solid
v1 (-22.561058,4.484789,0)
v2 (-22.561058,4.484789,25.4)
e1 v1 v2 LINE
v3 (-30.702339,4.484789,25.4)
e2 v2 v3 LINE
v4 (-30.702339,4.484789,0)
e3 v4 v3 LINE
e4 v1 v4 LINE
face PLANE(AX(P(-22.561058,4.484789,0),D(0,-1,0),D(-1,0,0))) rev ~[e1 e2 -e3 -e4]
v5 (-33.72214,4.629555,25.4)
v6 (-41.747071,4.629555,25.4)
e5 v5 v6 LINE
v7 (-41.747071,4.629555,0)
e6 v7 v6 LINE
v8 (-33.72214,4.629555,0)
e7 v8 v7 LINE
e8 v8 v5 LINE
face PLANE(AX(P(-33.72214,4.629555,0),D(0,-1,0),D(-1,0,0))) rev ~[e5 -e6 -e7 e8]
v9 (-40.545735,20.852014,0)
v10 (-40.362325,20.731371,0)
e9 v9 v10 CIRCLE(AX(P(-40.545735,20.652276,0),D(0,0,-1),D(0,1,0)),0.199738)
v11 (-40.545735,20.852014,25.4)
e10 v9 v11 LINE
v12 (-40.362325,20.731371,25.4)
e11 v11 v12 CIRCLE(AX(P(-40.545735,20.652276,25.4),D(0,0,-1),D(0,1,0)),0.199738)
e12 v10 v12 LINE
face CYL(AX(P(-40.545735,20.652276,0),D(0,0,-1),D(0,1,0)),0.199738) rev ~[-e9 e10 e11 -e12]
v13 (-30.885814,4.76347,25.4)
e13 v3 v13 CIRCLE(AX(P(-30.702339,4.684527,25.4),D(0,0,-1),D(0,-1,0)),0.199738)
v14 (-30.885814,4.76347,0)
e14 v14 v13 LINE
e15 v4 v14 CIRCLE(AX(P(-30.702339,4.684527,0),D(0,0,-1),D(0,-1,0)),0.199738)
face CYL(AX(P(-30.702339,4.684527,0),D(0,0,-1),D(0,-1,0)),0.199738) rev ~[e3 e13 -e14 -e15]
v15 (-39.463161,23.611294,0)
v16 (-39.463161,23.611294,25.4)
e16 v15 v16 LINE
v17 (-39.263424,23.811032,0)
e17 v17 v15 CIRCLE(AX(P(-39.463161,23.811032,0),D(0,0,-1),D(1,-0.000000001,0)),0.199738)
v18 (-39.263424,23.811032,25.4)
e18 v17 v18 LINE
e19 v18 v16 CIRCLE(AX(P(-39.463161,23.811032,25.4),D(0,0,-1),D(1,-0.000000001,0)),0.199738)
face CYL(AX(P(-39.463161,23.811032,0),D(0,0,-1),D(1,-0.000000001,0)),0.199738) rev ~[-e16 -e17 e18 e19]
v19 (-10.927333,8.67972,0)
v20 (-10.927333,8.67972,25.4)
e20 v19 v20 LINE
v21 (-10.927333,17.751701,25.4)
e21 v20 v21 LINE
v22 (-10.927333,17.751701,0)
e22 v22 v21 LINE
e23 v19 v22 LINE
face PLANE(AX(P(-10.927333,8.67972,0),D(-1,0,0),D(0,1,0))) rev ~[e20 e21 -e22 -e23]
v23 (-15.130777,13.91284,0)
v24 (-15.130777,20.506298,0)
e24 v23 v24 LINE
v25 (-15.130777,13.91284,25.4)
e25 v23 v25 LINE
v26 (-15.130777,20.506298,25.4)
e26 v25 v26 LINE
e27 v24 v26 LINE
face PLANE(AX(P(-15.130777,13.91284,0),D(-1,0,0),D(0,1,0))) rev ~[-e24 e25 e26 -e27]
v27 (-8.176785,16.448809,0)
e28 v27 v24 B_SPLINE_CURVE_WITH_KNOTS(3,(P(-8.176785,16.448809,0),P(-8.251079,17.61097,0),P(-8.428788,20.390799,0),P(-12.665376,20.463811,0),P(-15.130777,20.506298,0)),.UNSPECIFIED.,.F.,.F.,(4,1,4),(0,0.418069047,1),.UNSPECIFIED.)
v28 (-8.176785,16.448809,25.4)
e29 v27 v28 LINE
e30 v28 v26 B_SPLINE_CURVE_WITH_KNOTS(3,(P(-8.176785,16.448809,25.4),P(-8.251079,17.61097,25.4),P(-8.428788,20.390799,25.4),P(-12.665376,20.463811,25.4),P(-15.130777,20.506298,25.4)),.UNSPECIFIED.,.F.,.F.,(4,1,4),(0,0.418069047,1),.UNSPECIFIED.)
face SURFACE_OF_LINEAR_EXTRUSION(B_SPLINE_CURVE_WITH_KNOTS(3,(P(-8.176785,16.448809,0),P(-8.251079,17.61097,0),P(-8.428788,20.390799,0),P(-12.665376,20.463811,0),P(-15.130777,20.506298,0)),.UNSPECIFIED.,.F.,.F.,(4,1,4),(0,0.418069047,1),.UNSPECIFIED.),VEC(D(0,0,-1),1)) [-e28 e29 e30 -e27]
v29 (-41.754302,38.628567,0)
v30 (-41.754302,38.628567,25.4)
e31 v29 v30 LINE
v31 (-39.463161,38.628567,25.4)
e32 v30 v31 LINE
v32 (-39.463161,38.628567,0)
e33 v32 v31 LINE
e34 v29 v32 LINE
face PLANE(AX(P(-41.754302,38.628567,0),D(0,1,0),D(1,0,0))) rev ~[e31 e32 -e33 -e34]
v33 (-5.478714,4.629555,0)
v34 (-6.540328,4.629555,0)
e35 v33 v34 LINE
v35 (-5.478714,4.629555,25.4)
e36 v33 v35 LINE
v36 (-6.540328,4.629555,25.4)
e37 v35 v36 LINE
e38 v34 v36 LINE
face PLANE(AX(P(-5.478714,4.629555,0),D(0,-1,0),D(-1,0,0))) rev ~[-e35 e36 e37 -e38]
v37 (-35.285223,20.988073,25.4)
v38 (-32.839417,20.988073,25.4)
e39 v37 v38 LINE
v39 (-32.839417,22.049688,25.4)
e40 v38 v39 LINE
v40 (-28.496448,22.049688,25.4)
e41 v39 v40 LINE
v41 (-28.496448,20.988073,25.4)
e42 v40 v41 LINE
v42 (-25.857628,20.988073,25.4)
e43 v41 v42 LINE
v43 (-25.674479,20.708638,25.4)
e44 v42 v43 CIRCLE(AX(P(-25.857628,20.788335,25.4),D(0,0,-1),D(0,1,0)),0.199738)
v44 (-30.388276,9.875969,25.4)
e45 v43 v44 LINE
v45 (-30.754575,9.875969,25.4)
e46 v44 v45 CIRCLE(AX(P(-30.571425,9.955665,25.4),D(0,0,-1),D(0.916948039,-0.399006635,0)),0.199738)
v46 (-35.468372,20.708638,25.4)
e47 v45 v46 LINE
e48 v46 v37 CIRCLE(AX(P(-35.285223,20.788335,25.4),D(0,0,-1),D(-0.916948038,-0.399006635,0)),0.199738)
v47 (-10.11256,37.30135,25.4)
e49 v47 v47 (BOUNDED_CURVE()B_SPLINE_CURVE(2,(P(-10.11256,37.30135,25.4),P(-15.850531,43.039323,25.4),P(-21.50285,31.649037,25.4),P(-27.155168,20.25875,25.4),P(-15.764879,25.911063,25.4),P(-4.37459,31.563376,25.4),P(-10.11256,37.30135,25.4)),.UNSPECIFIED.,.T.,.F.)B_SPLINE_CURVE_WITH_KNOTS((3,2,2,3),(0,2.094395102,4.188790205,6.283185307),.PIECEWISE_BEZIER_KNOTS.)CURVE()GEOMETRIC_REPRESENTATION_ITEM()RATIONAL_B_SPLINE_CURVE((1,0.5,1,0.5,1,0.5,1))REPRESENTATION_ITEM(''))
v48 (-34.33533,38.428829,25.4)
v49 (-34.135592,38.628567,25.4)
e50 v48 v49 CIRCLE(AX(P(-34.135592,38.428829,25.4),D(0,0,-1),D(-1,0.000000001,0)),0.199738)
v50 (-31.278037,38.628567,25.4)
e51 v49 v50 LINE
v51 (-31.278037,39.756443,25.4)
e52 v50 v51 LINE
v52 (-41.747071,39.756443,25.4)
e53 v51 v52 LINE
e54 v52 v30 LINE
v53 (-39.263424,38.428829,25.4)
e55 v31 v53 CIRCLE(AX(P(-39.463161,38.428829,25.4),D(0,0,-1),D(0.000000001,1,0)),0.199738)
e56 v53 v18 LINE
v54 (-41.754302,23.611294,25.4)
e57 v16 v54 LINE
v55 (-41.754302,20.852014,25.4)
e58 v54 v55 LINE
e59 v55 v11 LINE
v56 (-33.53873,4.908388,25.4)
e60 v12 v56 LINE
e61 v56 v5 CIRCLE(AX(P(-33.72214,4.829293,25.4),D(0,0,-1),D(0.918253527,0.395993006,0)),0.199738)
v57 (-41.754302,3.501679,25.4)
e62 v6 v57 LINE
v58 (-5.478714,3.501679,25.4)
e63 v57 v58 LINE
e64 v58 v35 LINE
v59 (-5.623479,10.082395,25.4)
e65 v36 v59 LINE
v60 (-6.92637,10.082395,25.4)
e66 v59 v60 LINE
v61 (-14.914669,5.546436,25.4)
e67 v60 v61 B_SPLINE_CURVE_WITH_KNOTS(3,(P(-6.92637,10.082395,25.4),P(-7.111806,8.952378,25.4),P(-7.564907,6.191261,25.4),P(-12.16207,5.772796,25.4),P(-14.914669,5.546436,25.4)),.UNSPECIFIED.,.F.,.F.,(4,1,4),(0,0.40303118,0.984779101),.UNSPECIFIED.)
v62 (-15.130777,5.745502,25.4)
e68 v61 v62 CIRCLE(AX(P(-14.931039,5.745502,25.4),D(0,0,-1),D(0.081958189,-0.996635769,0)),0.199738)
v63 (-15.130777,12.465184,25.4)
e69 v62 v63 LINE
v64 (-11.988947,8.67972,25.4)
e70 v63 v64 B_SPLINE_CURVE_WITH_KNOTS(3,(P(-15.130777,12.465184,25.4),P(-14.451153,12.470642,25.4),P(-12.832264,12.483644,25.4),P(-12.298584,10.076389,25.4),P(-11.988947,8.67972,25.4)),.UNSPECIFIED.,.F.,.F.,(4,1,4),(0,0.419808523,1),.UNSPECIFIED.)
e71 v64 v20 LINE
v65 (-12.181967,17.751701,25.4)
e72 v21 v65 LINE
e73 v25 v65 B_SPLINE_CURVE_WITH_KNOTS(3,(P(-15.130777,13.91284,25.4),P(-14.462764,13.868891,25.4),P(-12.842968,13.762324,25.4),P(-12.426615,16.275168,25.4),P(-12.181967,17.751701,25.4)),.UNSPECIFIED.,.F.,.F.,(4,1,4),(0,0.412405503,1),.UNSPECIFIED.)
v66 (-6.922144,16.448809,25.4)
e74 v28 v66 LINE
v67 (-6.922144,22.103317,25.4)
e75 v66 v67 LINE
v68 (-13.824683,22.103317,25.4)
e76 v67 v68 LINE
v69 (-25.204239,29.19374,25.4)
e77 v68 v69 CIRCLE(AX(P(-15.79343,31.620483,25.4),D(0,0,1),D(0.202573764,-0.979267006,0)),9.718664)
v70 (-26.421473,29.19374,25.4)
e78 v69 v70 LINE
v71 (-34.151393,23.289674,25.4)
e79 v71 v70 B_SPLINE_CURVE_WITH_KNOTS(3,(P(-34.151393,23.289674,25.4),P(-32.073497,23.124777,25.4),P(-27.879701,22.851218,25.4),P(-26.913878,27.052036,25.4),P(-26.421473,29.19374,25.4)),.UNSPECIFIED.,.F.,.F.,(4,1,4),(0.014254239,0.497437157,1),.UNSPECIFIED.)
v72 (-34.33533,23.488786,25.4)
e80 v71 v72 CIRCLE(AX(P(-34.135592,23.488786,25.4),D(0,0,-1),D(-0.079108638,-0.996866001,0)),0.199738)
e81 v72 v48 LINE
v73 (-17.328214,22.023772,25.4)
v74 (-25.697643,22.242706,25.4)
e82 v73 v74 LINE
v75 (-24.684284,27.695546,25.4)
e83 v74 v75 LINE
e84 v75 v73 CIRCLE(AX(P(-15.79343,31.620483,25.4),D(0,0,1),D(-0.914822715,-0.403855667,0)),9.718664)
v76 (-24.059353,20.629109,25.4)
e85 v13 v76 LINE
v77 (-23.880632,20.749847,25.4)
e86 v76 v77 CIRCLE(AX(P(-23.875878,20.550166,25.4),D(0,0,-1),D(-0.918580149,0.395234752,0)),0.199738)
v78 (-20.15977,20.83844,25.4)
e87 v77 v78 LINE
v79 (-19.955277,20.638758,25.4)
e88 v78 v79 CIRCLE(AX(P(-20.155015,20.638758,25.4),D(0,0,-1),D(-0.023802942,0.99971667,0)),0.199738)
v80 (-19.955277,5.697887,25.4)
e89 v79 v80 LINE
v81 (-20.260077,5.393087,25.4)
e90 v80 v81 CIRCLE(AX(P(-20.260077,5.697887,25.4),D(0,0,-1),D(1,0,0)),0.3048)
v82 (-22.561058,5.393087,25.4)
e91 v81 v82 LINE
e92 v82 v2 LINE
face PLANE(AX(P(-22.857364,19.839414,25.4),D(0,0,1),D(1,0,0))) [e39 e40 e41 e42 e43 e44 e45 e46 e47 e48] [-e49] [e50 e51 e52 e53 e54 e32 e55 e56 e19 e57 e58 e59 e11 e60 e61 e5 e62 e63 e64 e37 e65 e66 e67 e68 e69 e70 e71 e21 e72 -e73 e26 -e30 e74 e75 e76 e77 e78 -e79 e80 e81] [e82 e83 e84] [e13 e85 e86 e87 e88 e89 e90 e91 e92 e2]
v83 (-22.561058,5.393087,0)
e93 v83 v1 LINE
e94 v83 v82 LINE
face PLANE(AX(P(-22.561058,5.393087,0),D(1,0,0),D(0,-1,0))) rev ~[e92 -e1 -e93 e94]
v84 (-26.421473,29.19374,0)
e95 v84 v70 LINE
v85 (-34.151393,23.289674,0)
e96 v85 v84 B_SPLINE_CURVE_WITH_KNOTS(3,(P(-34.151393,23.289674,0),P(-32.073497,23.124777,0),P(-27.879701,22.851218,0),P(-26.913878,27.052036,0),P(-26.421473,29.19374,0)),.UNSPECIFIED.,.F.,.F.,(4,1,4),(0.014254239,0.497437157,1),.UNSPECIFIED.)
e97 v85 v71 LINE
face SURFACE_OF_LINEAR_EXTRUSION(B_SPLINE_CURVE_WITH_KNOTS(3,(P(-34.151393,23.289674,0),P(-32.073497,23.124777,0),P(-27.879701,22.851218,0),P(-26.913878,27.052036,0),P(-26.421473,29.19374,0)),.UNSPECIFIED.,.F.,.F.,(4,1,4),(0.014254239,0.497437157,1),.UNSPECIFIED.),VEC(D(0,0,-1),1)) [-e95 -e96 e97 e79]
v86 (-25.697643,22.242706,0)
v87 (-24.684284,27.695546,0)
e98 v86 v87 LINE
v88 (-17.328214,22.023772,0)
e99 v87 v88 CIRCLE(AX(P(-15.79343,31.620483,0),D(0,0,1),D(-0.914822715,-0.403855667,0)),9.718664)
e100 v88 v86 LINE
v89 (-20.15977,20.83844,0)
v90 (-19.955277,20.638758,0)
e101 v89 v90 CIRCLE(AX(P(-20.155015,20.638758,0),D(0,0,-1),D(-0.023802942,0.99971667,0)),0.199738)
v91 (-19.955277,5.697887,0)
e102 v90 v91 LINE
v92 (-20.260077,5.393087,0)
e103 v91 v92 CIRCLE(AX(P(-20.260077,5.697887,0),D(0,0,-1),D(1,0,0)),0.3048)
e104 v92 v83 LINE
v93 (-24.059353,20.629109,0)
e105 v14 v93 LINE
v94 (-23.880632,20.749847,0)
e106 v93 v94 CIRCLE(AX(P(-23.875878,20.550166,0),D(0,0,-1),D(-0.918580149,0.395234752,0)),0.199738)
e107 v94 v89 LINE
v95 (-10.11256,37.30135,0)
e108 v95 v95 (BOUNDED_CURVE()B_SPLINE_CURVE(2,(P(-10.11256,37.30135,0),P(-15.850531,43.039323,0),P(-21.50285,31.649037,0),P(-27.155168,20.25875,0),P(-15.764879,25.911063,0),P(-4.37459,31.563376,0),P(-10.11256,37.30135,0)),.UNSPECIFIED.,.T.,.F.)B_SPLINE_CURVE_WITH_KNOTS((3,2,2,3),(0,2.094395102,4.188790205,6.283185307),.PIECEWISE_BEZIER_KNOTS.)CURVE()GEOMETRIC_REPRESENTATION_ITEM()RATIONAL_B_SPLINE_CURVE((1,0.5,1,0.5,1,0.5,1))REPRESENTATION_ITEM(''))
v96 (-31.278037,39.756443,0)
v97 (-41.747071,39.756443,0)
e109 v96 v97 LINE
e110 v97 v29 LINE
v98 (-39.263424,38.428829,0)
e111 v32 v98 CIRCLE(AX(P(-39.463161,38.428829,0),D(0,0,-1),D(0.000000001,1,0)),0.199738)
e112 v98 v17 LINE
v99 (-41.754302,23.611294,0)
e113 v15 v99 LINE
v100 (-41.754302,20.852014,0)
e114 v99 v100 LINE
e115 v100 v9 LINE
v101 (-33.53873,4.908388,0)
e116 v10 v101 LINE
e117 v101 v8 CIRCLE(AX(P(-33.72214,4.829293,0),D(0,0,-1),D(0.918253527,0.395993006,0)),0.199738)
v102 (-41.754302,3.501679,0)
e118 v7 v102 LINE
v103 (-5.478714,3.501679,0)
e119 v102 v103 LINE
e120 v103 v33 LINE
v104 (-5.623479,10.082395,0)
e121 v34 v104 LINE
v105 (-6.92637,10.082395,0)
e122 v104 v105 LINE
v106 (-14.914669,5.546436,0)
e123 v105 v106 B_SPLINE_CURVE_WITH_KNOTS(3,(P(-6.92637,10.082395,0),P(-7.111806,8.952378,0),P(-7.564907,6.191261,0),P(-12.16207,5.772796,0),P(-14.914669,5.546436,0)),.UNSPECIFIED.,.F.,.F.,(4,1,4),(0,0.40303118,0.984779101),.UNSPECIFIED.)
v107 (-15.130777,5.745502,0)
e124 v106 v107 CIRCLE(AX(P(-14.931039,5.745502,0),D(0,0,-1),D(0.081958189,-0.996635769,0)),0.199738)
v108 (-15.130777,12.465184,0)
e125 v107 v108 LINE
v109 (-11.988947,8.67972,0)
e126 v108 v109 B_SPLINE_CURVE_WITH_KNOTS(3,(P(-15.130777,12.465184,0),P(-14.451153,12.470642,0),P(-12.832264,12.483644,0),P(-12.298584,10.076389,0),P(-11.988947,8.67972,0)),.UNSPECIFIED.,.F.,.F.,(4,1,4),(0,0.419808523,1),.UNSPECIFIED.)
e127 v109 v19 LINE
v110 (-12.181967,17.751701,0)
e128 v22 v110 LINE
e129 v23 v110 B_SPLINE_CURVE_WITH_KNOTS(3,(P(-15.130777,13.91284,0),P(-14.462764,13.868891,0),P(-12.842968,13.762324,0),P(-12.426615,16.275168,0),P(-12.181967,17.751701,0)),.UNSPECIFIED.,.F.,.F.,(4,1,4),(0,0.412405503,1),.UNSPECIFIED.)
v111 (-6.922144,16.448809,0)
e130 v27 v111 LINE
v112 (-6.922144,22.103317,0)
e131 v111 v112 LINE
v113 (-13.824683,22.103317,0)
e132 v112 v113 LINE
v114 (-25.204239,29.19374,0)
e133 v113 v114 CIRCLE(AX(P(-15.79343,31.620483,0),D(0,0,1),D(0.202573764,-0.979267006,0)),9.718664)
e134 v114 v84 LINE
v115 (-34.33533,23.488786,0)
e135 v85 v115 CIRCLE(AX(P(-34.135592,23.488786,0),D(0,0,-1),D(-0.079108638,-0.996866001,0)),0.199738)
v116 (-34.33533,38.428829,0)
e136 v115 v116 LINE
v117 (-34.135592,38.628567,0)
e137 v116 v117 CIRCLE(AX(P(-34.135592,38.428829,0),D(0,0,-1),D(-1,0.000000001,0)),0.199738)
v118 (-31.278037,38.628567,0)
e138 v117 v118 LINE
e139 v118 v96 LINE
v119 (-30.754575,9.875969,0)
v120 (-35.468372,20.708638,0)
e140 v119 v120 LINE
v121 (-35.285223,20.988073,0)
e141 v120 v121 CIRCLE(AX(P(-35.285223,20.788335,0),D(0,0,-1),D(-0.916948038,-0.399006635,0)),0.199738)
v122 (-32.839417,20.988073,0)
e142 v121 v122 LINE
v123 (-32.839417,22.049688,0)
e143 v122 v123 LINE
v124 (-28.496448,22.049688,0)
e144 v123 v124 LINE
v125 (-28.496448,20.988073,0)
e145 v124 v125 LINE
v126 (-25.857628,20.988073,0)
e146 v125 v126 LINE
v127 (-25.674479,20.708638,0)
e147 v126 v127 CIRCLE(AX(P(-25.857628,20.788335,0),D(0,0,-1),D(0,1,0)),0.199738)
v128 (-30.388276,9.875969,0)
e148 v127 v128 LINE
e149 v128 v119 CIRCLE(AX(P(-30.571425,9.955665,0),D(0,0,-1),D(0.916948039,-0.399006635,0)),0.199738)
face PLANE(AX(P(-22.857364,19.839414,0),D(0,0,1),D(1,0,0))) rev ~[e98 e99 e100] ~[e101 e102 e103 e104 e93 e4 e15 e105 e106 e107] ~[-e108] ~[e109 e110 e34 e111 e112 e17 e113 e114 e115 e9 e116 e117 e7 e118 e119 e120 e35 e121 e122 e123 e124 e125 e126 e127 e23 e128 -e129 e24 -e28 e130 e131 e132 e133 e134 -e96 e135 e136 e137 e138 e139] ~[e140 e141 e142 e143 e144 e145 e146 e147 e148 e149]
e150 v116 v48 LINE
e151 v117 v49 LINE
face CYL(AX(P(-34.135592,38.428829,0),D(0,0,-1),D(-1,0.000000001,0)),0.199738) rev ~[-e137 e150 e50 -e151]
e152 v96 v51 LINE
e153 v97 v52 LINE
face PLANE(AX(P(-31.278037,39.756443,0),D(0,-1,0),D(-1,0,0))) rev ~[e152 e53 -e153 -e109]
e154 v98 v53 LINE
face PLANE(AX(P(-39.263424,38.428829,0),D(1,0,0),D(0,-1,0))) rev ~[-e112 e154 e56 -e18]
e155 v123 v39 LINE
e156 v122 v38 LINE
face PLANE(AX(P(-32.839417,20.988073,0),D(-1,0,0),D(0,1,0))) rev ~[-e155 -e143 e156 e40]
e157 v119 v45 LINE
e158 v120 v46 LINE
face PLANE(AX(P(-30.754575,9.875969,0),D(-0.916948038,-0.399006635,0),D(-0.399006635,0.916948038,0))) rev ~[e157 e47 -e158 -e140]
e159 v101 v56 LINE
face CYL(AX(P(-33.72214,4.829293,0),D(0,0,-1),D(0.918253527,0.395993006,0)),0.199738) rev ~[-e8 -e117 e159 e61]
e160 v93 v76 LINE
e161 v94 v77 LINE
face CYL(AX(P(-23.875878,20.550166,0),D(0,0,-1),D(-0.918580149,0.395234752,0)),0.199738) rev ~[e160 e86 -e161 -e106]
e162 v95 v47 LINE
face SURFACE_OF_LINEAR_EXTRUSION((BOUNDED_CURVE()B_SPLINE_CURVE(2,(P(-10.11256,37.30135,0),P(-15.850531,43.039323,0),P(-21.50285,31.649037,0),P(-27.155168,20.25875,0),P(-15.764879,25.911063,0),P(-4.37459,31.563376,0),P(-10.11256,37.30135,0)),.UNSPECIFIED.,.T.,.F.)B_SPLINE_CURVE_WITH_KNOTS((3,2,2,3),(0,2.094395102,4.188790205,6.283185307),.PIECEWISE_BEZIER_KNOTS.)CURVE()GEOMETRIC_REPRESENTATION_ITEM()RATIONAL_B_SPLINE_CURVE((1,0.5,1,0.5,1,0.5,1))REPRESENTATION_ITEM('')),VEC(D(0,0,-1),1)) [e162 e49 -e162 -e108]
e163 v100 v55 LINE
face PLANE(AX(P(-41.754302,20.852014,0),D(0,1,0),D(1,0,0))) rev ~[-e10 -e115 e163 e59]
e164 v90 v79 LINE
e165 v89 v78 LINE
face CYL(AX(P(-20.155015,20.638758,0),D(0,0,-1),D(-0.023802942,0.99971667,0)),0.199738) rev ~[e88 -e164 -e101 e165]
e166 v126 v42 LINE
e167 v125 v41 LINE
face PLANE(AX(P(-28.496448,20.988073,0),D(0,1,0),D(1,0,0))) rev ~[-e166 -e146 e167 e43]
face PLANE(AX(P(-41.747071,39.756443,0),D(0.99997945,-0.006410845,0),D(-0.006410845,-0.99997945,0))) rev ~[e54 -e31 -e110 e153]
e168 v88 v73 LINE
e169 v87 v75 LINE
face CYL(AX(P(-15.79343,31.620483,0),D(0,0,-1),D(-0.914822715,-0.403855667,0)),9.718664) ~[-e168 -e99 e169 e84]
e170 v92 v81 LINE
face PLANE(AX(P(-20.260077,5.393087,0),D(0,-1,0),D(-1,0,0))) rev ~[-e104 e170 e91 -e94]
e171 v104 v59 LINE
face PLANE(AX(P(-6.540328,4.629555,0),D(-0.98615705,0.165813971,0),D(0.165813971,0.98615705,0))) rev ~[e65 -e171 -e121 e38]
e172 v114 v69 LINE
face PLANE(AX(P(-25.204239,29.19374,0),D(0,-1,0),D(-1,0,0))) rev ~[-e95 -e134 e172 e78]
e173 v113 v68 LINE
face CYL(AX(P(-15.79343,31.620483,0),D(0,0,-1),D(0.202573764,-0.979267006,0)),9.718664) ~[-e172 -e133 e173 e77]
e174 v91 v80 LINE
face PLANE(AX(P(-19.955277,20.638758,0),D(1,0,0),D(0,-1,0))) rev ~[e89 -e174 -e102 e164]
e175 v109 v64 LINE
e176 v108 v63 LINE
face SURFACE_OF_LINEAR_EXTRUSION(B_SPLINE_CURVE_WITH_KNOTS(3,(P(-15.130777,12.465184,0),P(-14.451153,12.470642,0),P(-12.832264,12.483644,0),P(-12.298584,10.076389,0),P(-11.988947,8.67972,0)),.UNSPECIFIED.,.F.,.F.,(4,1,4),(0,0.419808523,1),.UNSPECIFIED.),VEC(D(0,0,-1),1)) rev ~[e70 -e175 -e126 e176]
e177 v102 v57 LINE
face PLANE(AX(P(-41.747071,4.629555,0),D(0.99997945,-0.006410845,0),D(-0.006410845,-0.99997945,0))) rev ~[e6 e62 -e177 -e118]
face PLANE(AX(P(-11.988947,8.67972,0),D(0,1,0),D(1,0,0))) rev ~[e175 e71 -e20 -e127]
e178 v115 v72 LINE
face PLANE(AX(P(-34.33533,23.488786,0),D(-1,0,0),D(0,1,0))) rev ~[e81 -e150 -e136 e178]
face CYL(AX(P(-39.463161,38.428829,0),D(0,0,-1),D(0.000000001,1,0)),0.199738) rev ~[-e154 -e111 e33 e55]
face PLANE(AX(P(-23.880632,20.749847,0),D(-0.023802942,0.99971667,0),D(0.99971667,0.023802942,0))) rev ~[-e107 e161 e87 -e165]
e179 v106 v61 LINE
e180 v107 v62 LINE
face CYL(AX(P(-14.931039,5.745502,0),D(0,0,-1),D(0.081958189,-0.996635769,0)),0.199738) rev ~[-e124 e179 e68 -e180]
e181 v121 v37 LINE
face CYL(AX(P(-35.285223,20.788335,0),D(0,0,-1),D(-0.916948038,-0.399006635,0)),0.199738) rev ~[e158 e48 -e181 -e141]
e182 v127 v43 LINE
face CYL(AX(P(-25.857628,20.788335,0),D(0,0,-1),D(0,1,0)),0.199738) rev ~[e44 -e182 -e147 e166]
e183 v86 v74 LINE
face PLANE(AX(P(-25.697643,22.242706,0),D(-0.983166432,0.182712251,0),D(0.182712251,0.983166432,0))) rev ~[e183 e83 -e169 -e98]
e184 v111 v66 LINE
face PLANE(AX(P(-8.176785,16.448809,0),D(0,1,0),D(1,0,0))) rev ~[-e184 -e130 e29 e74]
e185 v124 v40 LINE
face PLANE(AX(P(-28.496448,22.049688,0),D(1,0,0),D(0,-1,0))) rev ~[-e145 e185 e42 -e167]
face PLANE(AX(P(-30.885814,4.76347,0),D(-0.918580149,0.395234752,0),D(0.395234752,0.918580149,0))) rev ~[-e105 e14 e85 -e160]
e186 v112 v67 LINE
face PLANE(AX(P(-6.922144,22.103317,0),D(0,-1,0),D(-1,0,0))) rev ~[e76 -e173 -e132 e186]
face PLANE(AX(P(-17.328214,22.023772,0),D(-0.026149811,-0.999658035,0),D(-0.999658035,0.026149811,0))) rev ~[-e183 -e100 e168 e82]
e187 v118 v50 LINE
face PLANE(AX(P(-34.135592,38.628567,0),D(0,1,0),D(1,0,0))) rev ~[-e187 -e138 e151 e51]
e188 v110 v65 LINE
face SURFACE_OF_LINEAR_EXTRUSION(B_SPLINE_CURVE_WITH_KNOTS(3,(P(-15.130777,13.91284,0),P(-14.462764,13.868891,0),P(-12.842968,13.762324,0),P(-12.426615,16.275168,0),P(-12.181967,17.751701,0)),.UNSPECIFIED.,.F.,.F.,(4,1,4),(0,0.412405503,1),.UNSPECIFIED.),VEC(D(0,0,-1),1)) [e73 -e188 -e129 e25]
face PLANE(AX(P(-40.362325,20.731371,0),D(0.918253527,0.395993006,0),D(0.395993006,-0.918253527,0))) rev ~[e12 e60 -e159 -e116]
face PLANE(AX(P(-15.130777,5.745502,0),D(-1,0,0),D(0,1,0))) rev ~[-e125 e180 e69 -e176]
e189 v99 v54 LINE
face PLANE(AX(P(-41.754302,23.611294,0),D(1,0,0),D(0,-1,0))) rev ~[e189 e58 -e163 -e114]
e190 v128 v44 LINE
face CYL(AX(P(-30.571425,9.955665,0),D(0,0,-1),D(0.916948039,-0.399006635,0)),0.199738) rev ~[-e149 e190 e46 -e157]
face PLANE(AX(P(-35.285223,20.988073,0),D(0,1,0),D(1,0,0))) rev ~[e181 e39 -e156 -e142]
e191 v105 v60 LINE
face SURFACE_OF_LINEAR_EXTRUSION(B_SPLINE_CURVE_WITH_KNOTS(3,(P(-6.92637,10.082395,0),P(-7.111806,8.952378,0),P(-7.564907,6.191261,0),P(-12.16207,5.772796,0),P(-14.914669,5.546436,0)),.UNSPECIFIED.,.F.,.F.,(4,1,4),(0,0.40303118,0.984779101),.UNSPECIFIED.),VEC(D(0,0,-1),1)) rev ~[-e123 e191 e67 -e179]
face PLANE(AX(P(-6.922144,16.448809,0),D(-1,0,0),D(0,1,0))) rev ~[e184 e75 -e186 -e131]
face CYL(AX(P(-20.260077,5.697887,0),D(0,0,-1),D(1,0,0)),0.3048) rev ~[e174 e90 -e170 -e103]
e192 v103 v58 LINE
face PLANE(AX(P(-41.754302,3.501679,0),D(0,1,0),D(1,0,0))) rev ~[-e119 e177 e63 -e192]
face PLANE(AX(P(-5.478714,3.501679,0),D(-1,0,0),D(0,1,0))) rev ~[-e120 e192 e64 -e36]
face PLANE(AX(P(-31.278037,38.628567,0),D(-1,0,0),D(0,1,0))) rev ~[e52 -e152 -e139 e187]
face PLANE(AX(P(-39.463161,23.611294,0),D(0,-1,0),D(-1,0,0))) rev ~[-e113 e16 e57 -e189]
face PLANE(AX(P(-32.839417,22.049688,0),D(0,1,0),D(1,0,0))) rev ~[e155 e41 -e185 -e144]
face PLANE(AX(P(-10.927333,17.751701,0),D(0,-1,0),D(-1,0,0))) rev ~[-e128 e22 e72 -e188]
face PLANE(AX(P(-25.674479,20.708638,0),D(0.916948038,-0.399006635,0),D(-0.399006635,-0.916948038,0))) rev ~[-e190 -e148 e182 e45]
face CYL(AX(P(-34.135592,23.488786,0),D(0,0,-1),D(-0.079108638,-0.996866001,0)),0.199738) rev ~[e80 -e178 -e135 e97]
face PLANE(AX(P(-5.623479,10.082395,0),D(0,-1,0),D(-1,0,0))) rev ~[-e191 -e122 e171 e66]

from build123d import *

# Parameters (mm, degrees)
F1_DEPTH = 25.4


with BuildPart() as f1:
    # F0 (on Top) → F1 (new body)
    with BuildSketch(Plane.XY):
        with BuildLine():
            Line((-6.922144349, 22.1033166371), (-13.8246832876, 22.1033166371))
            ThreePointArc((-13.8246832876, 22.1033166371), (-10.6539158919, 39.8689876269), (-25.2042392324, 29.1937395135))
            Line((-25.2042392324, 29.1937395135), (-26.4214727575, 29.1937395135))
            add(Edge.make_bspline(
                [(-34.1513931679, 23.289673573), (-32.0734965127, 23.1247772138), (-27.8797011755, 22.8512177675), (-26.9138783096, 27.0520360031), (-26.4214727575, 29.1937395135)],
                knots=[0.0142542389, 0.0142542389, 0.0142542389, 0.0142542389, 0.4974371567, 1, 1, 1, 1], degree=3))
            ThreePointArc((-34.1513931679, 23.289673573), (-34.2823084118, 23.3532510684), (-34.3353301287, 23.488785553))
            Line((-34.3353301287, 23.488785553), (-34.3353301287, 38.4288290516))
            ThreePointArc((-34.3353301287, 38.4288290516), (-34.2768282351, 38.5700651165), (-34.1355921701, 38.6285670102))
            Line((-34.1355921701, 38.6285670102), (-31.2780365348, 38.6285670102))
            Line((-31.2780365348, 38.6285670102), (-31.2780365348, 39.7564433515))
            Line((-31.2780365348, 39.7564433515), (-41.7470708489, 39.7564433515))
            Line((-41.7470708489, 39.7564433515), (-41.7543016374, 38.6285670102))
            Line((-41.7543016374, 38.6285670102), (-39.4631614909, 38.6285670102))
            ThreePointArc((-39.4631614909, 38.6285670102), (-39.3219254259, 38.5700651165), (-39.2634235322, 38.4288290516))
            Line((-39.2634235322, 38.4288290516), (-39.2634235322, 23.8110320643))
            ThreePointArc((-39.2634235322, 23.8110320643), (-39.3219254259, 23.6697959993), (-39.4631614909, 23.6112941056))
            Line((-39.4631614909, 23.6112941056), (-41.7543016374, 23.6112941056))
            Line((-41.7543016374, 23.6112941056), (-41.7543016374, 20.8520144224))
            Line((-41.7543016374, 20.8520144224), (-40.5457352105, 20.8520144224))
            ThreePointArc((-40.5457352105, 20.8520144224), (-40.4359695253, 20.8191499082), (-40.3623251256, 20.7313712984))
            Line((-40.3623251256, 20.7313712984), (-33.538729512, 4.9083879515))
            ThreePointArc((-33.538729512, 4.9083879515), (-33.5552661525, 4.7195274317), (-33.7221395969, 4.6295551583))
            Line((-33.7221395969, 4.6295551583), (-41.7470708489, 4.6295551583))
            Line((-41.7470708489, 4.6295551583), (-41.7543016374, 3.501678817))
            Line((-41.7543016374, 3.501678817), (-5.4787136614, 3.501678817))
            Line((-5.4787136614, 3.501678817), (-5.4787136614, 4.6295551583))
            Line((-5.4787136614, 4.6295551583), (-6.5403282642, 4.6295551583))
            Line((-6.5403282642, 4.6295551583), (-5.6234793738, 10.082394816))
            Line((-5.6234793738, 10.082394816), (-6.9263698533, 10.082394816))
            add(Edge.make_bspline(
                [(-6.9263698533, 10.082394816), (-7.1118061723, 8.9523784677), (-7.5649071247, 6.191260869), (-12.1620701189, 5.7727957343), (-14.914668792, 5.5464362064)],
                knots=[0, 0, 0, 0, 0.4030311798, 0.9847791008, 0.9847791008, 0.9847791008, 0.9847791008], degree=3))
            ThreePointArc((-14.914668792, 5.5464362064), (-15.0663635807, 5.598592373), (-15.130776912, 5.7455022003))
            Line((-15.130776912, 5.7455022003), (-15.130776912, 12.4651836231))
            add(Edge.make_bspline(
                [(-15.130776912, 12.4651836231), (-14.4511532344, 12.4706418779), (-12.8322635737, 12.48364365), (-12.2985836887, 10.0763885396), (-11.988947168, 8.6797196418)],
                knots=[0, 0, 0, 0, 0.4198085231, 1, 1, 1, 1], degree=3))
            Line((-11.988947168, 8.6797196418), (-10.9273325652, 8.6797196418))
            Line((-10.9273325652, 8.6797196418), (-10.9273325652, 17.7517011762))
            Line((-10.9273325652, 17.7517011762), (-12.1819674969, 17.7517011762))
            add(Edge.make_bspline(
                [(-15.130776912, 13.912839815), (-14.4627640937, 13.8688908923), (-12.8429680106, 13.7623236366), (-12.426614518, 16.2751677835), (-12.1819674969, 17.7517011762)],
                knots=[0, 0, 0, 0, 0.4124055029, 1, 1, 1, 1], degree=3))
            Line((-15.130776912, 13.912839815), (-15.130776912, 20.5062981695))
            add(Edge.make_bspline(
                [(-8.1767849624, 16.448808834), (-8.2510794881, 17.6109695891), (-8.4287882332, 20.390799294), (-12.6653755921, 20.4638106194), (-15.130776912, 20.5062981695)],
                knots=[0, 0, 0, 0, 0.4180690469, 1, 1, 1, 1], degree=3))
            Line((-8.1767849624, 16.448808834), (-6.922144349, 16.448808834))
            Line((-6.922144349, 16.448808834), (-6.922144349, 22.1033166371))
        make_face()
        with BuildLine():
            Line((-30.8858141466, 4.7634703214), (-24.0593529441, 20.6291089683))
            ThreePointArc((-24.0593529441, 20.6291089683), (-23.9876900428, 20.7156746015), (-23.8806319712, 20.7498469527))
            Line((-23.8806319712, 20.7498469527), (-20.1597697526, 20.8384395209))
            ThreePointArc((-20.1597697526, 20.8384395209), (-20.015470377, 20.7816652506), (-19.9552774429, 20.6387581541))
            Line((-19.9552774429, 20.6387581541), (-19.9552774429, 5.6978869252))
            ThreePointArc((-19.9552774429, 5.6978869252), (-20.044551296, 5.4823607783), (-20.2600774429, 5.3930869252))
            Line((-20.2600774429, 5.3930869252), (-22.5610584021, 5.3930869252))
            Line((-22.5610584021, 5.3930869252), (-22.5610584021, 4.4847889803))
            Line((-22.5610584021, 4.4847889803), (-30.7023388227, 4.4847889803))
            ThreePointArc((-30.7023388227, 4.4847889803), (-30.8691669411, 4.5746923769), (-30.8858141466, 4.7634703214))
        make_face(mode=Mode.SUBTRACT)
        with BuildLine():
            ThreePointArc((-35.4683719073, 20.7086384706), (-35.4522760461, 20.897826752), (-35.285222578, 20.9880732))
            Line((-35.285222578, 20.9880732), (-32.8394174576, 20.9880732))
            Line((-32.8394174576, 20.9880732), (-32.8394174576, 22.0496878028))
            Line((-32.8394174576, 22.0496878028), (-28.4964479506, 22.0496878028))
            Line((-28.4964479506, 22.0496878028), (-28.4964479506, 20.9880732))
            Line((-28.4964479506, 20.9880732), (-25.8576280892, 20.9880732))
            ThreePointArc((-25.8576280892, 20.9880732), (-25.6905746211, 20.897826752), (-25.6744787599, 20.7086384706))
            Line((-25.6744787599, 20.7086384706), (-30.3882760043, 9.8759686425))
            ThreePointArc((-30.3882760043, 9.8759686425), (-30.5714253336, 9.7559274546), (-30.754574663, 9.8759686425))
            Line((-30.754574663, 9.8759686425), (-35.4683719073, 20.7086384706))
        make_face(mode=Mode.SUBTRACT)
        with BuildLine():
            Line((-25.6976429373, 22.242706269), (-24.6842838824, 27.6955459267))
            ThreePointArc((-24.6842838824, 27.6955459267), (-21.7277147025, 23.9239461935), (-17.328214106, 22.0237724214))
            Line((-17.328214106, 22.0237724214), (-25.6976429373, 22.242706269))
        make_face(mode=Mode.SUBTRACT)
        with BuildLine():
            add(Edge.make_bspline(
                [(-10.112560244, 37.3013498764), (-15.8505308963, 43.0393233508), (-21.5028495703, 31.6490368044), (-27.1551682443, 20.258750258), (-15.764878918, 25.91106333), (-4.3745895917, 31.563376402), (-10.112560244, 37.3013498764)],
                knots=[0, 0, 0, 2.0943951024, 2.0943951024, 4.1887902048, 4.1887902048, 6.2831853072, 6.2831853072, 6.2831853072], degree=2, weights=[1, 0.5, 1, 0.5, 1, 0.5, 1]))
        make_face(mode=Mode.SUBTRACT)
    extrude(amount=F1_DEPTH)


solid = f1.part
